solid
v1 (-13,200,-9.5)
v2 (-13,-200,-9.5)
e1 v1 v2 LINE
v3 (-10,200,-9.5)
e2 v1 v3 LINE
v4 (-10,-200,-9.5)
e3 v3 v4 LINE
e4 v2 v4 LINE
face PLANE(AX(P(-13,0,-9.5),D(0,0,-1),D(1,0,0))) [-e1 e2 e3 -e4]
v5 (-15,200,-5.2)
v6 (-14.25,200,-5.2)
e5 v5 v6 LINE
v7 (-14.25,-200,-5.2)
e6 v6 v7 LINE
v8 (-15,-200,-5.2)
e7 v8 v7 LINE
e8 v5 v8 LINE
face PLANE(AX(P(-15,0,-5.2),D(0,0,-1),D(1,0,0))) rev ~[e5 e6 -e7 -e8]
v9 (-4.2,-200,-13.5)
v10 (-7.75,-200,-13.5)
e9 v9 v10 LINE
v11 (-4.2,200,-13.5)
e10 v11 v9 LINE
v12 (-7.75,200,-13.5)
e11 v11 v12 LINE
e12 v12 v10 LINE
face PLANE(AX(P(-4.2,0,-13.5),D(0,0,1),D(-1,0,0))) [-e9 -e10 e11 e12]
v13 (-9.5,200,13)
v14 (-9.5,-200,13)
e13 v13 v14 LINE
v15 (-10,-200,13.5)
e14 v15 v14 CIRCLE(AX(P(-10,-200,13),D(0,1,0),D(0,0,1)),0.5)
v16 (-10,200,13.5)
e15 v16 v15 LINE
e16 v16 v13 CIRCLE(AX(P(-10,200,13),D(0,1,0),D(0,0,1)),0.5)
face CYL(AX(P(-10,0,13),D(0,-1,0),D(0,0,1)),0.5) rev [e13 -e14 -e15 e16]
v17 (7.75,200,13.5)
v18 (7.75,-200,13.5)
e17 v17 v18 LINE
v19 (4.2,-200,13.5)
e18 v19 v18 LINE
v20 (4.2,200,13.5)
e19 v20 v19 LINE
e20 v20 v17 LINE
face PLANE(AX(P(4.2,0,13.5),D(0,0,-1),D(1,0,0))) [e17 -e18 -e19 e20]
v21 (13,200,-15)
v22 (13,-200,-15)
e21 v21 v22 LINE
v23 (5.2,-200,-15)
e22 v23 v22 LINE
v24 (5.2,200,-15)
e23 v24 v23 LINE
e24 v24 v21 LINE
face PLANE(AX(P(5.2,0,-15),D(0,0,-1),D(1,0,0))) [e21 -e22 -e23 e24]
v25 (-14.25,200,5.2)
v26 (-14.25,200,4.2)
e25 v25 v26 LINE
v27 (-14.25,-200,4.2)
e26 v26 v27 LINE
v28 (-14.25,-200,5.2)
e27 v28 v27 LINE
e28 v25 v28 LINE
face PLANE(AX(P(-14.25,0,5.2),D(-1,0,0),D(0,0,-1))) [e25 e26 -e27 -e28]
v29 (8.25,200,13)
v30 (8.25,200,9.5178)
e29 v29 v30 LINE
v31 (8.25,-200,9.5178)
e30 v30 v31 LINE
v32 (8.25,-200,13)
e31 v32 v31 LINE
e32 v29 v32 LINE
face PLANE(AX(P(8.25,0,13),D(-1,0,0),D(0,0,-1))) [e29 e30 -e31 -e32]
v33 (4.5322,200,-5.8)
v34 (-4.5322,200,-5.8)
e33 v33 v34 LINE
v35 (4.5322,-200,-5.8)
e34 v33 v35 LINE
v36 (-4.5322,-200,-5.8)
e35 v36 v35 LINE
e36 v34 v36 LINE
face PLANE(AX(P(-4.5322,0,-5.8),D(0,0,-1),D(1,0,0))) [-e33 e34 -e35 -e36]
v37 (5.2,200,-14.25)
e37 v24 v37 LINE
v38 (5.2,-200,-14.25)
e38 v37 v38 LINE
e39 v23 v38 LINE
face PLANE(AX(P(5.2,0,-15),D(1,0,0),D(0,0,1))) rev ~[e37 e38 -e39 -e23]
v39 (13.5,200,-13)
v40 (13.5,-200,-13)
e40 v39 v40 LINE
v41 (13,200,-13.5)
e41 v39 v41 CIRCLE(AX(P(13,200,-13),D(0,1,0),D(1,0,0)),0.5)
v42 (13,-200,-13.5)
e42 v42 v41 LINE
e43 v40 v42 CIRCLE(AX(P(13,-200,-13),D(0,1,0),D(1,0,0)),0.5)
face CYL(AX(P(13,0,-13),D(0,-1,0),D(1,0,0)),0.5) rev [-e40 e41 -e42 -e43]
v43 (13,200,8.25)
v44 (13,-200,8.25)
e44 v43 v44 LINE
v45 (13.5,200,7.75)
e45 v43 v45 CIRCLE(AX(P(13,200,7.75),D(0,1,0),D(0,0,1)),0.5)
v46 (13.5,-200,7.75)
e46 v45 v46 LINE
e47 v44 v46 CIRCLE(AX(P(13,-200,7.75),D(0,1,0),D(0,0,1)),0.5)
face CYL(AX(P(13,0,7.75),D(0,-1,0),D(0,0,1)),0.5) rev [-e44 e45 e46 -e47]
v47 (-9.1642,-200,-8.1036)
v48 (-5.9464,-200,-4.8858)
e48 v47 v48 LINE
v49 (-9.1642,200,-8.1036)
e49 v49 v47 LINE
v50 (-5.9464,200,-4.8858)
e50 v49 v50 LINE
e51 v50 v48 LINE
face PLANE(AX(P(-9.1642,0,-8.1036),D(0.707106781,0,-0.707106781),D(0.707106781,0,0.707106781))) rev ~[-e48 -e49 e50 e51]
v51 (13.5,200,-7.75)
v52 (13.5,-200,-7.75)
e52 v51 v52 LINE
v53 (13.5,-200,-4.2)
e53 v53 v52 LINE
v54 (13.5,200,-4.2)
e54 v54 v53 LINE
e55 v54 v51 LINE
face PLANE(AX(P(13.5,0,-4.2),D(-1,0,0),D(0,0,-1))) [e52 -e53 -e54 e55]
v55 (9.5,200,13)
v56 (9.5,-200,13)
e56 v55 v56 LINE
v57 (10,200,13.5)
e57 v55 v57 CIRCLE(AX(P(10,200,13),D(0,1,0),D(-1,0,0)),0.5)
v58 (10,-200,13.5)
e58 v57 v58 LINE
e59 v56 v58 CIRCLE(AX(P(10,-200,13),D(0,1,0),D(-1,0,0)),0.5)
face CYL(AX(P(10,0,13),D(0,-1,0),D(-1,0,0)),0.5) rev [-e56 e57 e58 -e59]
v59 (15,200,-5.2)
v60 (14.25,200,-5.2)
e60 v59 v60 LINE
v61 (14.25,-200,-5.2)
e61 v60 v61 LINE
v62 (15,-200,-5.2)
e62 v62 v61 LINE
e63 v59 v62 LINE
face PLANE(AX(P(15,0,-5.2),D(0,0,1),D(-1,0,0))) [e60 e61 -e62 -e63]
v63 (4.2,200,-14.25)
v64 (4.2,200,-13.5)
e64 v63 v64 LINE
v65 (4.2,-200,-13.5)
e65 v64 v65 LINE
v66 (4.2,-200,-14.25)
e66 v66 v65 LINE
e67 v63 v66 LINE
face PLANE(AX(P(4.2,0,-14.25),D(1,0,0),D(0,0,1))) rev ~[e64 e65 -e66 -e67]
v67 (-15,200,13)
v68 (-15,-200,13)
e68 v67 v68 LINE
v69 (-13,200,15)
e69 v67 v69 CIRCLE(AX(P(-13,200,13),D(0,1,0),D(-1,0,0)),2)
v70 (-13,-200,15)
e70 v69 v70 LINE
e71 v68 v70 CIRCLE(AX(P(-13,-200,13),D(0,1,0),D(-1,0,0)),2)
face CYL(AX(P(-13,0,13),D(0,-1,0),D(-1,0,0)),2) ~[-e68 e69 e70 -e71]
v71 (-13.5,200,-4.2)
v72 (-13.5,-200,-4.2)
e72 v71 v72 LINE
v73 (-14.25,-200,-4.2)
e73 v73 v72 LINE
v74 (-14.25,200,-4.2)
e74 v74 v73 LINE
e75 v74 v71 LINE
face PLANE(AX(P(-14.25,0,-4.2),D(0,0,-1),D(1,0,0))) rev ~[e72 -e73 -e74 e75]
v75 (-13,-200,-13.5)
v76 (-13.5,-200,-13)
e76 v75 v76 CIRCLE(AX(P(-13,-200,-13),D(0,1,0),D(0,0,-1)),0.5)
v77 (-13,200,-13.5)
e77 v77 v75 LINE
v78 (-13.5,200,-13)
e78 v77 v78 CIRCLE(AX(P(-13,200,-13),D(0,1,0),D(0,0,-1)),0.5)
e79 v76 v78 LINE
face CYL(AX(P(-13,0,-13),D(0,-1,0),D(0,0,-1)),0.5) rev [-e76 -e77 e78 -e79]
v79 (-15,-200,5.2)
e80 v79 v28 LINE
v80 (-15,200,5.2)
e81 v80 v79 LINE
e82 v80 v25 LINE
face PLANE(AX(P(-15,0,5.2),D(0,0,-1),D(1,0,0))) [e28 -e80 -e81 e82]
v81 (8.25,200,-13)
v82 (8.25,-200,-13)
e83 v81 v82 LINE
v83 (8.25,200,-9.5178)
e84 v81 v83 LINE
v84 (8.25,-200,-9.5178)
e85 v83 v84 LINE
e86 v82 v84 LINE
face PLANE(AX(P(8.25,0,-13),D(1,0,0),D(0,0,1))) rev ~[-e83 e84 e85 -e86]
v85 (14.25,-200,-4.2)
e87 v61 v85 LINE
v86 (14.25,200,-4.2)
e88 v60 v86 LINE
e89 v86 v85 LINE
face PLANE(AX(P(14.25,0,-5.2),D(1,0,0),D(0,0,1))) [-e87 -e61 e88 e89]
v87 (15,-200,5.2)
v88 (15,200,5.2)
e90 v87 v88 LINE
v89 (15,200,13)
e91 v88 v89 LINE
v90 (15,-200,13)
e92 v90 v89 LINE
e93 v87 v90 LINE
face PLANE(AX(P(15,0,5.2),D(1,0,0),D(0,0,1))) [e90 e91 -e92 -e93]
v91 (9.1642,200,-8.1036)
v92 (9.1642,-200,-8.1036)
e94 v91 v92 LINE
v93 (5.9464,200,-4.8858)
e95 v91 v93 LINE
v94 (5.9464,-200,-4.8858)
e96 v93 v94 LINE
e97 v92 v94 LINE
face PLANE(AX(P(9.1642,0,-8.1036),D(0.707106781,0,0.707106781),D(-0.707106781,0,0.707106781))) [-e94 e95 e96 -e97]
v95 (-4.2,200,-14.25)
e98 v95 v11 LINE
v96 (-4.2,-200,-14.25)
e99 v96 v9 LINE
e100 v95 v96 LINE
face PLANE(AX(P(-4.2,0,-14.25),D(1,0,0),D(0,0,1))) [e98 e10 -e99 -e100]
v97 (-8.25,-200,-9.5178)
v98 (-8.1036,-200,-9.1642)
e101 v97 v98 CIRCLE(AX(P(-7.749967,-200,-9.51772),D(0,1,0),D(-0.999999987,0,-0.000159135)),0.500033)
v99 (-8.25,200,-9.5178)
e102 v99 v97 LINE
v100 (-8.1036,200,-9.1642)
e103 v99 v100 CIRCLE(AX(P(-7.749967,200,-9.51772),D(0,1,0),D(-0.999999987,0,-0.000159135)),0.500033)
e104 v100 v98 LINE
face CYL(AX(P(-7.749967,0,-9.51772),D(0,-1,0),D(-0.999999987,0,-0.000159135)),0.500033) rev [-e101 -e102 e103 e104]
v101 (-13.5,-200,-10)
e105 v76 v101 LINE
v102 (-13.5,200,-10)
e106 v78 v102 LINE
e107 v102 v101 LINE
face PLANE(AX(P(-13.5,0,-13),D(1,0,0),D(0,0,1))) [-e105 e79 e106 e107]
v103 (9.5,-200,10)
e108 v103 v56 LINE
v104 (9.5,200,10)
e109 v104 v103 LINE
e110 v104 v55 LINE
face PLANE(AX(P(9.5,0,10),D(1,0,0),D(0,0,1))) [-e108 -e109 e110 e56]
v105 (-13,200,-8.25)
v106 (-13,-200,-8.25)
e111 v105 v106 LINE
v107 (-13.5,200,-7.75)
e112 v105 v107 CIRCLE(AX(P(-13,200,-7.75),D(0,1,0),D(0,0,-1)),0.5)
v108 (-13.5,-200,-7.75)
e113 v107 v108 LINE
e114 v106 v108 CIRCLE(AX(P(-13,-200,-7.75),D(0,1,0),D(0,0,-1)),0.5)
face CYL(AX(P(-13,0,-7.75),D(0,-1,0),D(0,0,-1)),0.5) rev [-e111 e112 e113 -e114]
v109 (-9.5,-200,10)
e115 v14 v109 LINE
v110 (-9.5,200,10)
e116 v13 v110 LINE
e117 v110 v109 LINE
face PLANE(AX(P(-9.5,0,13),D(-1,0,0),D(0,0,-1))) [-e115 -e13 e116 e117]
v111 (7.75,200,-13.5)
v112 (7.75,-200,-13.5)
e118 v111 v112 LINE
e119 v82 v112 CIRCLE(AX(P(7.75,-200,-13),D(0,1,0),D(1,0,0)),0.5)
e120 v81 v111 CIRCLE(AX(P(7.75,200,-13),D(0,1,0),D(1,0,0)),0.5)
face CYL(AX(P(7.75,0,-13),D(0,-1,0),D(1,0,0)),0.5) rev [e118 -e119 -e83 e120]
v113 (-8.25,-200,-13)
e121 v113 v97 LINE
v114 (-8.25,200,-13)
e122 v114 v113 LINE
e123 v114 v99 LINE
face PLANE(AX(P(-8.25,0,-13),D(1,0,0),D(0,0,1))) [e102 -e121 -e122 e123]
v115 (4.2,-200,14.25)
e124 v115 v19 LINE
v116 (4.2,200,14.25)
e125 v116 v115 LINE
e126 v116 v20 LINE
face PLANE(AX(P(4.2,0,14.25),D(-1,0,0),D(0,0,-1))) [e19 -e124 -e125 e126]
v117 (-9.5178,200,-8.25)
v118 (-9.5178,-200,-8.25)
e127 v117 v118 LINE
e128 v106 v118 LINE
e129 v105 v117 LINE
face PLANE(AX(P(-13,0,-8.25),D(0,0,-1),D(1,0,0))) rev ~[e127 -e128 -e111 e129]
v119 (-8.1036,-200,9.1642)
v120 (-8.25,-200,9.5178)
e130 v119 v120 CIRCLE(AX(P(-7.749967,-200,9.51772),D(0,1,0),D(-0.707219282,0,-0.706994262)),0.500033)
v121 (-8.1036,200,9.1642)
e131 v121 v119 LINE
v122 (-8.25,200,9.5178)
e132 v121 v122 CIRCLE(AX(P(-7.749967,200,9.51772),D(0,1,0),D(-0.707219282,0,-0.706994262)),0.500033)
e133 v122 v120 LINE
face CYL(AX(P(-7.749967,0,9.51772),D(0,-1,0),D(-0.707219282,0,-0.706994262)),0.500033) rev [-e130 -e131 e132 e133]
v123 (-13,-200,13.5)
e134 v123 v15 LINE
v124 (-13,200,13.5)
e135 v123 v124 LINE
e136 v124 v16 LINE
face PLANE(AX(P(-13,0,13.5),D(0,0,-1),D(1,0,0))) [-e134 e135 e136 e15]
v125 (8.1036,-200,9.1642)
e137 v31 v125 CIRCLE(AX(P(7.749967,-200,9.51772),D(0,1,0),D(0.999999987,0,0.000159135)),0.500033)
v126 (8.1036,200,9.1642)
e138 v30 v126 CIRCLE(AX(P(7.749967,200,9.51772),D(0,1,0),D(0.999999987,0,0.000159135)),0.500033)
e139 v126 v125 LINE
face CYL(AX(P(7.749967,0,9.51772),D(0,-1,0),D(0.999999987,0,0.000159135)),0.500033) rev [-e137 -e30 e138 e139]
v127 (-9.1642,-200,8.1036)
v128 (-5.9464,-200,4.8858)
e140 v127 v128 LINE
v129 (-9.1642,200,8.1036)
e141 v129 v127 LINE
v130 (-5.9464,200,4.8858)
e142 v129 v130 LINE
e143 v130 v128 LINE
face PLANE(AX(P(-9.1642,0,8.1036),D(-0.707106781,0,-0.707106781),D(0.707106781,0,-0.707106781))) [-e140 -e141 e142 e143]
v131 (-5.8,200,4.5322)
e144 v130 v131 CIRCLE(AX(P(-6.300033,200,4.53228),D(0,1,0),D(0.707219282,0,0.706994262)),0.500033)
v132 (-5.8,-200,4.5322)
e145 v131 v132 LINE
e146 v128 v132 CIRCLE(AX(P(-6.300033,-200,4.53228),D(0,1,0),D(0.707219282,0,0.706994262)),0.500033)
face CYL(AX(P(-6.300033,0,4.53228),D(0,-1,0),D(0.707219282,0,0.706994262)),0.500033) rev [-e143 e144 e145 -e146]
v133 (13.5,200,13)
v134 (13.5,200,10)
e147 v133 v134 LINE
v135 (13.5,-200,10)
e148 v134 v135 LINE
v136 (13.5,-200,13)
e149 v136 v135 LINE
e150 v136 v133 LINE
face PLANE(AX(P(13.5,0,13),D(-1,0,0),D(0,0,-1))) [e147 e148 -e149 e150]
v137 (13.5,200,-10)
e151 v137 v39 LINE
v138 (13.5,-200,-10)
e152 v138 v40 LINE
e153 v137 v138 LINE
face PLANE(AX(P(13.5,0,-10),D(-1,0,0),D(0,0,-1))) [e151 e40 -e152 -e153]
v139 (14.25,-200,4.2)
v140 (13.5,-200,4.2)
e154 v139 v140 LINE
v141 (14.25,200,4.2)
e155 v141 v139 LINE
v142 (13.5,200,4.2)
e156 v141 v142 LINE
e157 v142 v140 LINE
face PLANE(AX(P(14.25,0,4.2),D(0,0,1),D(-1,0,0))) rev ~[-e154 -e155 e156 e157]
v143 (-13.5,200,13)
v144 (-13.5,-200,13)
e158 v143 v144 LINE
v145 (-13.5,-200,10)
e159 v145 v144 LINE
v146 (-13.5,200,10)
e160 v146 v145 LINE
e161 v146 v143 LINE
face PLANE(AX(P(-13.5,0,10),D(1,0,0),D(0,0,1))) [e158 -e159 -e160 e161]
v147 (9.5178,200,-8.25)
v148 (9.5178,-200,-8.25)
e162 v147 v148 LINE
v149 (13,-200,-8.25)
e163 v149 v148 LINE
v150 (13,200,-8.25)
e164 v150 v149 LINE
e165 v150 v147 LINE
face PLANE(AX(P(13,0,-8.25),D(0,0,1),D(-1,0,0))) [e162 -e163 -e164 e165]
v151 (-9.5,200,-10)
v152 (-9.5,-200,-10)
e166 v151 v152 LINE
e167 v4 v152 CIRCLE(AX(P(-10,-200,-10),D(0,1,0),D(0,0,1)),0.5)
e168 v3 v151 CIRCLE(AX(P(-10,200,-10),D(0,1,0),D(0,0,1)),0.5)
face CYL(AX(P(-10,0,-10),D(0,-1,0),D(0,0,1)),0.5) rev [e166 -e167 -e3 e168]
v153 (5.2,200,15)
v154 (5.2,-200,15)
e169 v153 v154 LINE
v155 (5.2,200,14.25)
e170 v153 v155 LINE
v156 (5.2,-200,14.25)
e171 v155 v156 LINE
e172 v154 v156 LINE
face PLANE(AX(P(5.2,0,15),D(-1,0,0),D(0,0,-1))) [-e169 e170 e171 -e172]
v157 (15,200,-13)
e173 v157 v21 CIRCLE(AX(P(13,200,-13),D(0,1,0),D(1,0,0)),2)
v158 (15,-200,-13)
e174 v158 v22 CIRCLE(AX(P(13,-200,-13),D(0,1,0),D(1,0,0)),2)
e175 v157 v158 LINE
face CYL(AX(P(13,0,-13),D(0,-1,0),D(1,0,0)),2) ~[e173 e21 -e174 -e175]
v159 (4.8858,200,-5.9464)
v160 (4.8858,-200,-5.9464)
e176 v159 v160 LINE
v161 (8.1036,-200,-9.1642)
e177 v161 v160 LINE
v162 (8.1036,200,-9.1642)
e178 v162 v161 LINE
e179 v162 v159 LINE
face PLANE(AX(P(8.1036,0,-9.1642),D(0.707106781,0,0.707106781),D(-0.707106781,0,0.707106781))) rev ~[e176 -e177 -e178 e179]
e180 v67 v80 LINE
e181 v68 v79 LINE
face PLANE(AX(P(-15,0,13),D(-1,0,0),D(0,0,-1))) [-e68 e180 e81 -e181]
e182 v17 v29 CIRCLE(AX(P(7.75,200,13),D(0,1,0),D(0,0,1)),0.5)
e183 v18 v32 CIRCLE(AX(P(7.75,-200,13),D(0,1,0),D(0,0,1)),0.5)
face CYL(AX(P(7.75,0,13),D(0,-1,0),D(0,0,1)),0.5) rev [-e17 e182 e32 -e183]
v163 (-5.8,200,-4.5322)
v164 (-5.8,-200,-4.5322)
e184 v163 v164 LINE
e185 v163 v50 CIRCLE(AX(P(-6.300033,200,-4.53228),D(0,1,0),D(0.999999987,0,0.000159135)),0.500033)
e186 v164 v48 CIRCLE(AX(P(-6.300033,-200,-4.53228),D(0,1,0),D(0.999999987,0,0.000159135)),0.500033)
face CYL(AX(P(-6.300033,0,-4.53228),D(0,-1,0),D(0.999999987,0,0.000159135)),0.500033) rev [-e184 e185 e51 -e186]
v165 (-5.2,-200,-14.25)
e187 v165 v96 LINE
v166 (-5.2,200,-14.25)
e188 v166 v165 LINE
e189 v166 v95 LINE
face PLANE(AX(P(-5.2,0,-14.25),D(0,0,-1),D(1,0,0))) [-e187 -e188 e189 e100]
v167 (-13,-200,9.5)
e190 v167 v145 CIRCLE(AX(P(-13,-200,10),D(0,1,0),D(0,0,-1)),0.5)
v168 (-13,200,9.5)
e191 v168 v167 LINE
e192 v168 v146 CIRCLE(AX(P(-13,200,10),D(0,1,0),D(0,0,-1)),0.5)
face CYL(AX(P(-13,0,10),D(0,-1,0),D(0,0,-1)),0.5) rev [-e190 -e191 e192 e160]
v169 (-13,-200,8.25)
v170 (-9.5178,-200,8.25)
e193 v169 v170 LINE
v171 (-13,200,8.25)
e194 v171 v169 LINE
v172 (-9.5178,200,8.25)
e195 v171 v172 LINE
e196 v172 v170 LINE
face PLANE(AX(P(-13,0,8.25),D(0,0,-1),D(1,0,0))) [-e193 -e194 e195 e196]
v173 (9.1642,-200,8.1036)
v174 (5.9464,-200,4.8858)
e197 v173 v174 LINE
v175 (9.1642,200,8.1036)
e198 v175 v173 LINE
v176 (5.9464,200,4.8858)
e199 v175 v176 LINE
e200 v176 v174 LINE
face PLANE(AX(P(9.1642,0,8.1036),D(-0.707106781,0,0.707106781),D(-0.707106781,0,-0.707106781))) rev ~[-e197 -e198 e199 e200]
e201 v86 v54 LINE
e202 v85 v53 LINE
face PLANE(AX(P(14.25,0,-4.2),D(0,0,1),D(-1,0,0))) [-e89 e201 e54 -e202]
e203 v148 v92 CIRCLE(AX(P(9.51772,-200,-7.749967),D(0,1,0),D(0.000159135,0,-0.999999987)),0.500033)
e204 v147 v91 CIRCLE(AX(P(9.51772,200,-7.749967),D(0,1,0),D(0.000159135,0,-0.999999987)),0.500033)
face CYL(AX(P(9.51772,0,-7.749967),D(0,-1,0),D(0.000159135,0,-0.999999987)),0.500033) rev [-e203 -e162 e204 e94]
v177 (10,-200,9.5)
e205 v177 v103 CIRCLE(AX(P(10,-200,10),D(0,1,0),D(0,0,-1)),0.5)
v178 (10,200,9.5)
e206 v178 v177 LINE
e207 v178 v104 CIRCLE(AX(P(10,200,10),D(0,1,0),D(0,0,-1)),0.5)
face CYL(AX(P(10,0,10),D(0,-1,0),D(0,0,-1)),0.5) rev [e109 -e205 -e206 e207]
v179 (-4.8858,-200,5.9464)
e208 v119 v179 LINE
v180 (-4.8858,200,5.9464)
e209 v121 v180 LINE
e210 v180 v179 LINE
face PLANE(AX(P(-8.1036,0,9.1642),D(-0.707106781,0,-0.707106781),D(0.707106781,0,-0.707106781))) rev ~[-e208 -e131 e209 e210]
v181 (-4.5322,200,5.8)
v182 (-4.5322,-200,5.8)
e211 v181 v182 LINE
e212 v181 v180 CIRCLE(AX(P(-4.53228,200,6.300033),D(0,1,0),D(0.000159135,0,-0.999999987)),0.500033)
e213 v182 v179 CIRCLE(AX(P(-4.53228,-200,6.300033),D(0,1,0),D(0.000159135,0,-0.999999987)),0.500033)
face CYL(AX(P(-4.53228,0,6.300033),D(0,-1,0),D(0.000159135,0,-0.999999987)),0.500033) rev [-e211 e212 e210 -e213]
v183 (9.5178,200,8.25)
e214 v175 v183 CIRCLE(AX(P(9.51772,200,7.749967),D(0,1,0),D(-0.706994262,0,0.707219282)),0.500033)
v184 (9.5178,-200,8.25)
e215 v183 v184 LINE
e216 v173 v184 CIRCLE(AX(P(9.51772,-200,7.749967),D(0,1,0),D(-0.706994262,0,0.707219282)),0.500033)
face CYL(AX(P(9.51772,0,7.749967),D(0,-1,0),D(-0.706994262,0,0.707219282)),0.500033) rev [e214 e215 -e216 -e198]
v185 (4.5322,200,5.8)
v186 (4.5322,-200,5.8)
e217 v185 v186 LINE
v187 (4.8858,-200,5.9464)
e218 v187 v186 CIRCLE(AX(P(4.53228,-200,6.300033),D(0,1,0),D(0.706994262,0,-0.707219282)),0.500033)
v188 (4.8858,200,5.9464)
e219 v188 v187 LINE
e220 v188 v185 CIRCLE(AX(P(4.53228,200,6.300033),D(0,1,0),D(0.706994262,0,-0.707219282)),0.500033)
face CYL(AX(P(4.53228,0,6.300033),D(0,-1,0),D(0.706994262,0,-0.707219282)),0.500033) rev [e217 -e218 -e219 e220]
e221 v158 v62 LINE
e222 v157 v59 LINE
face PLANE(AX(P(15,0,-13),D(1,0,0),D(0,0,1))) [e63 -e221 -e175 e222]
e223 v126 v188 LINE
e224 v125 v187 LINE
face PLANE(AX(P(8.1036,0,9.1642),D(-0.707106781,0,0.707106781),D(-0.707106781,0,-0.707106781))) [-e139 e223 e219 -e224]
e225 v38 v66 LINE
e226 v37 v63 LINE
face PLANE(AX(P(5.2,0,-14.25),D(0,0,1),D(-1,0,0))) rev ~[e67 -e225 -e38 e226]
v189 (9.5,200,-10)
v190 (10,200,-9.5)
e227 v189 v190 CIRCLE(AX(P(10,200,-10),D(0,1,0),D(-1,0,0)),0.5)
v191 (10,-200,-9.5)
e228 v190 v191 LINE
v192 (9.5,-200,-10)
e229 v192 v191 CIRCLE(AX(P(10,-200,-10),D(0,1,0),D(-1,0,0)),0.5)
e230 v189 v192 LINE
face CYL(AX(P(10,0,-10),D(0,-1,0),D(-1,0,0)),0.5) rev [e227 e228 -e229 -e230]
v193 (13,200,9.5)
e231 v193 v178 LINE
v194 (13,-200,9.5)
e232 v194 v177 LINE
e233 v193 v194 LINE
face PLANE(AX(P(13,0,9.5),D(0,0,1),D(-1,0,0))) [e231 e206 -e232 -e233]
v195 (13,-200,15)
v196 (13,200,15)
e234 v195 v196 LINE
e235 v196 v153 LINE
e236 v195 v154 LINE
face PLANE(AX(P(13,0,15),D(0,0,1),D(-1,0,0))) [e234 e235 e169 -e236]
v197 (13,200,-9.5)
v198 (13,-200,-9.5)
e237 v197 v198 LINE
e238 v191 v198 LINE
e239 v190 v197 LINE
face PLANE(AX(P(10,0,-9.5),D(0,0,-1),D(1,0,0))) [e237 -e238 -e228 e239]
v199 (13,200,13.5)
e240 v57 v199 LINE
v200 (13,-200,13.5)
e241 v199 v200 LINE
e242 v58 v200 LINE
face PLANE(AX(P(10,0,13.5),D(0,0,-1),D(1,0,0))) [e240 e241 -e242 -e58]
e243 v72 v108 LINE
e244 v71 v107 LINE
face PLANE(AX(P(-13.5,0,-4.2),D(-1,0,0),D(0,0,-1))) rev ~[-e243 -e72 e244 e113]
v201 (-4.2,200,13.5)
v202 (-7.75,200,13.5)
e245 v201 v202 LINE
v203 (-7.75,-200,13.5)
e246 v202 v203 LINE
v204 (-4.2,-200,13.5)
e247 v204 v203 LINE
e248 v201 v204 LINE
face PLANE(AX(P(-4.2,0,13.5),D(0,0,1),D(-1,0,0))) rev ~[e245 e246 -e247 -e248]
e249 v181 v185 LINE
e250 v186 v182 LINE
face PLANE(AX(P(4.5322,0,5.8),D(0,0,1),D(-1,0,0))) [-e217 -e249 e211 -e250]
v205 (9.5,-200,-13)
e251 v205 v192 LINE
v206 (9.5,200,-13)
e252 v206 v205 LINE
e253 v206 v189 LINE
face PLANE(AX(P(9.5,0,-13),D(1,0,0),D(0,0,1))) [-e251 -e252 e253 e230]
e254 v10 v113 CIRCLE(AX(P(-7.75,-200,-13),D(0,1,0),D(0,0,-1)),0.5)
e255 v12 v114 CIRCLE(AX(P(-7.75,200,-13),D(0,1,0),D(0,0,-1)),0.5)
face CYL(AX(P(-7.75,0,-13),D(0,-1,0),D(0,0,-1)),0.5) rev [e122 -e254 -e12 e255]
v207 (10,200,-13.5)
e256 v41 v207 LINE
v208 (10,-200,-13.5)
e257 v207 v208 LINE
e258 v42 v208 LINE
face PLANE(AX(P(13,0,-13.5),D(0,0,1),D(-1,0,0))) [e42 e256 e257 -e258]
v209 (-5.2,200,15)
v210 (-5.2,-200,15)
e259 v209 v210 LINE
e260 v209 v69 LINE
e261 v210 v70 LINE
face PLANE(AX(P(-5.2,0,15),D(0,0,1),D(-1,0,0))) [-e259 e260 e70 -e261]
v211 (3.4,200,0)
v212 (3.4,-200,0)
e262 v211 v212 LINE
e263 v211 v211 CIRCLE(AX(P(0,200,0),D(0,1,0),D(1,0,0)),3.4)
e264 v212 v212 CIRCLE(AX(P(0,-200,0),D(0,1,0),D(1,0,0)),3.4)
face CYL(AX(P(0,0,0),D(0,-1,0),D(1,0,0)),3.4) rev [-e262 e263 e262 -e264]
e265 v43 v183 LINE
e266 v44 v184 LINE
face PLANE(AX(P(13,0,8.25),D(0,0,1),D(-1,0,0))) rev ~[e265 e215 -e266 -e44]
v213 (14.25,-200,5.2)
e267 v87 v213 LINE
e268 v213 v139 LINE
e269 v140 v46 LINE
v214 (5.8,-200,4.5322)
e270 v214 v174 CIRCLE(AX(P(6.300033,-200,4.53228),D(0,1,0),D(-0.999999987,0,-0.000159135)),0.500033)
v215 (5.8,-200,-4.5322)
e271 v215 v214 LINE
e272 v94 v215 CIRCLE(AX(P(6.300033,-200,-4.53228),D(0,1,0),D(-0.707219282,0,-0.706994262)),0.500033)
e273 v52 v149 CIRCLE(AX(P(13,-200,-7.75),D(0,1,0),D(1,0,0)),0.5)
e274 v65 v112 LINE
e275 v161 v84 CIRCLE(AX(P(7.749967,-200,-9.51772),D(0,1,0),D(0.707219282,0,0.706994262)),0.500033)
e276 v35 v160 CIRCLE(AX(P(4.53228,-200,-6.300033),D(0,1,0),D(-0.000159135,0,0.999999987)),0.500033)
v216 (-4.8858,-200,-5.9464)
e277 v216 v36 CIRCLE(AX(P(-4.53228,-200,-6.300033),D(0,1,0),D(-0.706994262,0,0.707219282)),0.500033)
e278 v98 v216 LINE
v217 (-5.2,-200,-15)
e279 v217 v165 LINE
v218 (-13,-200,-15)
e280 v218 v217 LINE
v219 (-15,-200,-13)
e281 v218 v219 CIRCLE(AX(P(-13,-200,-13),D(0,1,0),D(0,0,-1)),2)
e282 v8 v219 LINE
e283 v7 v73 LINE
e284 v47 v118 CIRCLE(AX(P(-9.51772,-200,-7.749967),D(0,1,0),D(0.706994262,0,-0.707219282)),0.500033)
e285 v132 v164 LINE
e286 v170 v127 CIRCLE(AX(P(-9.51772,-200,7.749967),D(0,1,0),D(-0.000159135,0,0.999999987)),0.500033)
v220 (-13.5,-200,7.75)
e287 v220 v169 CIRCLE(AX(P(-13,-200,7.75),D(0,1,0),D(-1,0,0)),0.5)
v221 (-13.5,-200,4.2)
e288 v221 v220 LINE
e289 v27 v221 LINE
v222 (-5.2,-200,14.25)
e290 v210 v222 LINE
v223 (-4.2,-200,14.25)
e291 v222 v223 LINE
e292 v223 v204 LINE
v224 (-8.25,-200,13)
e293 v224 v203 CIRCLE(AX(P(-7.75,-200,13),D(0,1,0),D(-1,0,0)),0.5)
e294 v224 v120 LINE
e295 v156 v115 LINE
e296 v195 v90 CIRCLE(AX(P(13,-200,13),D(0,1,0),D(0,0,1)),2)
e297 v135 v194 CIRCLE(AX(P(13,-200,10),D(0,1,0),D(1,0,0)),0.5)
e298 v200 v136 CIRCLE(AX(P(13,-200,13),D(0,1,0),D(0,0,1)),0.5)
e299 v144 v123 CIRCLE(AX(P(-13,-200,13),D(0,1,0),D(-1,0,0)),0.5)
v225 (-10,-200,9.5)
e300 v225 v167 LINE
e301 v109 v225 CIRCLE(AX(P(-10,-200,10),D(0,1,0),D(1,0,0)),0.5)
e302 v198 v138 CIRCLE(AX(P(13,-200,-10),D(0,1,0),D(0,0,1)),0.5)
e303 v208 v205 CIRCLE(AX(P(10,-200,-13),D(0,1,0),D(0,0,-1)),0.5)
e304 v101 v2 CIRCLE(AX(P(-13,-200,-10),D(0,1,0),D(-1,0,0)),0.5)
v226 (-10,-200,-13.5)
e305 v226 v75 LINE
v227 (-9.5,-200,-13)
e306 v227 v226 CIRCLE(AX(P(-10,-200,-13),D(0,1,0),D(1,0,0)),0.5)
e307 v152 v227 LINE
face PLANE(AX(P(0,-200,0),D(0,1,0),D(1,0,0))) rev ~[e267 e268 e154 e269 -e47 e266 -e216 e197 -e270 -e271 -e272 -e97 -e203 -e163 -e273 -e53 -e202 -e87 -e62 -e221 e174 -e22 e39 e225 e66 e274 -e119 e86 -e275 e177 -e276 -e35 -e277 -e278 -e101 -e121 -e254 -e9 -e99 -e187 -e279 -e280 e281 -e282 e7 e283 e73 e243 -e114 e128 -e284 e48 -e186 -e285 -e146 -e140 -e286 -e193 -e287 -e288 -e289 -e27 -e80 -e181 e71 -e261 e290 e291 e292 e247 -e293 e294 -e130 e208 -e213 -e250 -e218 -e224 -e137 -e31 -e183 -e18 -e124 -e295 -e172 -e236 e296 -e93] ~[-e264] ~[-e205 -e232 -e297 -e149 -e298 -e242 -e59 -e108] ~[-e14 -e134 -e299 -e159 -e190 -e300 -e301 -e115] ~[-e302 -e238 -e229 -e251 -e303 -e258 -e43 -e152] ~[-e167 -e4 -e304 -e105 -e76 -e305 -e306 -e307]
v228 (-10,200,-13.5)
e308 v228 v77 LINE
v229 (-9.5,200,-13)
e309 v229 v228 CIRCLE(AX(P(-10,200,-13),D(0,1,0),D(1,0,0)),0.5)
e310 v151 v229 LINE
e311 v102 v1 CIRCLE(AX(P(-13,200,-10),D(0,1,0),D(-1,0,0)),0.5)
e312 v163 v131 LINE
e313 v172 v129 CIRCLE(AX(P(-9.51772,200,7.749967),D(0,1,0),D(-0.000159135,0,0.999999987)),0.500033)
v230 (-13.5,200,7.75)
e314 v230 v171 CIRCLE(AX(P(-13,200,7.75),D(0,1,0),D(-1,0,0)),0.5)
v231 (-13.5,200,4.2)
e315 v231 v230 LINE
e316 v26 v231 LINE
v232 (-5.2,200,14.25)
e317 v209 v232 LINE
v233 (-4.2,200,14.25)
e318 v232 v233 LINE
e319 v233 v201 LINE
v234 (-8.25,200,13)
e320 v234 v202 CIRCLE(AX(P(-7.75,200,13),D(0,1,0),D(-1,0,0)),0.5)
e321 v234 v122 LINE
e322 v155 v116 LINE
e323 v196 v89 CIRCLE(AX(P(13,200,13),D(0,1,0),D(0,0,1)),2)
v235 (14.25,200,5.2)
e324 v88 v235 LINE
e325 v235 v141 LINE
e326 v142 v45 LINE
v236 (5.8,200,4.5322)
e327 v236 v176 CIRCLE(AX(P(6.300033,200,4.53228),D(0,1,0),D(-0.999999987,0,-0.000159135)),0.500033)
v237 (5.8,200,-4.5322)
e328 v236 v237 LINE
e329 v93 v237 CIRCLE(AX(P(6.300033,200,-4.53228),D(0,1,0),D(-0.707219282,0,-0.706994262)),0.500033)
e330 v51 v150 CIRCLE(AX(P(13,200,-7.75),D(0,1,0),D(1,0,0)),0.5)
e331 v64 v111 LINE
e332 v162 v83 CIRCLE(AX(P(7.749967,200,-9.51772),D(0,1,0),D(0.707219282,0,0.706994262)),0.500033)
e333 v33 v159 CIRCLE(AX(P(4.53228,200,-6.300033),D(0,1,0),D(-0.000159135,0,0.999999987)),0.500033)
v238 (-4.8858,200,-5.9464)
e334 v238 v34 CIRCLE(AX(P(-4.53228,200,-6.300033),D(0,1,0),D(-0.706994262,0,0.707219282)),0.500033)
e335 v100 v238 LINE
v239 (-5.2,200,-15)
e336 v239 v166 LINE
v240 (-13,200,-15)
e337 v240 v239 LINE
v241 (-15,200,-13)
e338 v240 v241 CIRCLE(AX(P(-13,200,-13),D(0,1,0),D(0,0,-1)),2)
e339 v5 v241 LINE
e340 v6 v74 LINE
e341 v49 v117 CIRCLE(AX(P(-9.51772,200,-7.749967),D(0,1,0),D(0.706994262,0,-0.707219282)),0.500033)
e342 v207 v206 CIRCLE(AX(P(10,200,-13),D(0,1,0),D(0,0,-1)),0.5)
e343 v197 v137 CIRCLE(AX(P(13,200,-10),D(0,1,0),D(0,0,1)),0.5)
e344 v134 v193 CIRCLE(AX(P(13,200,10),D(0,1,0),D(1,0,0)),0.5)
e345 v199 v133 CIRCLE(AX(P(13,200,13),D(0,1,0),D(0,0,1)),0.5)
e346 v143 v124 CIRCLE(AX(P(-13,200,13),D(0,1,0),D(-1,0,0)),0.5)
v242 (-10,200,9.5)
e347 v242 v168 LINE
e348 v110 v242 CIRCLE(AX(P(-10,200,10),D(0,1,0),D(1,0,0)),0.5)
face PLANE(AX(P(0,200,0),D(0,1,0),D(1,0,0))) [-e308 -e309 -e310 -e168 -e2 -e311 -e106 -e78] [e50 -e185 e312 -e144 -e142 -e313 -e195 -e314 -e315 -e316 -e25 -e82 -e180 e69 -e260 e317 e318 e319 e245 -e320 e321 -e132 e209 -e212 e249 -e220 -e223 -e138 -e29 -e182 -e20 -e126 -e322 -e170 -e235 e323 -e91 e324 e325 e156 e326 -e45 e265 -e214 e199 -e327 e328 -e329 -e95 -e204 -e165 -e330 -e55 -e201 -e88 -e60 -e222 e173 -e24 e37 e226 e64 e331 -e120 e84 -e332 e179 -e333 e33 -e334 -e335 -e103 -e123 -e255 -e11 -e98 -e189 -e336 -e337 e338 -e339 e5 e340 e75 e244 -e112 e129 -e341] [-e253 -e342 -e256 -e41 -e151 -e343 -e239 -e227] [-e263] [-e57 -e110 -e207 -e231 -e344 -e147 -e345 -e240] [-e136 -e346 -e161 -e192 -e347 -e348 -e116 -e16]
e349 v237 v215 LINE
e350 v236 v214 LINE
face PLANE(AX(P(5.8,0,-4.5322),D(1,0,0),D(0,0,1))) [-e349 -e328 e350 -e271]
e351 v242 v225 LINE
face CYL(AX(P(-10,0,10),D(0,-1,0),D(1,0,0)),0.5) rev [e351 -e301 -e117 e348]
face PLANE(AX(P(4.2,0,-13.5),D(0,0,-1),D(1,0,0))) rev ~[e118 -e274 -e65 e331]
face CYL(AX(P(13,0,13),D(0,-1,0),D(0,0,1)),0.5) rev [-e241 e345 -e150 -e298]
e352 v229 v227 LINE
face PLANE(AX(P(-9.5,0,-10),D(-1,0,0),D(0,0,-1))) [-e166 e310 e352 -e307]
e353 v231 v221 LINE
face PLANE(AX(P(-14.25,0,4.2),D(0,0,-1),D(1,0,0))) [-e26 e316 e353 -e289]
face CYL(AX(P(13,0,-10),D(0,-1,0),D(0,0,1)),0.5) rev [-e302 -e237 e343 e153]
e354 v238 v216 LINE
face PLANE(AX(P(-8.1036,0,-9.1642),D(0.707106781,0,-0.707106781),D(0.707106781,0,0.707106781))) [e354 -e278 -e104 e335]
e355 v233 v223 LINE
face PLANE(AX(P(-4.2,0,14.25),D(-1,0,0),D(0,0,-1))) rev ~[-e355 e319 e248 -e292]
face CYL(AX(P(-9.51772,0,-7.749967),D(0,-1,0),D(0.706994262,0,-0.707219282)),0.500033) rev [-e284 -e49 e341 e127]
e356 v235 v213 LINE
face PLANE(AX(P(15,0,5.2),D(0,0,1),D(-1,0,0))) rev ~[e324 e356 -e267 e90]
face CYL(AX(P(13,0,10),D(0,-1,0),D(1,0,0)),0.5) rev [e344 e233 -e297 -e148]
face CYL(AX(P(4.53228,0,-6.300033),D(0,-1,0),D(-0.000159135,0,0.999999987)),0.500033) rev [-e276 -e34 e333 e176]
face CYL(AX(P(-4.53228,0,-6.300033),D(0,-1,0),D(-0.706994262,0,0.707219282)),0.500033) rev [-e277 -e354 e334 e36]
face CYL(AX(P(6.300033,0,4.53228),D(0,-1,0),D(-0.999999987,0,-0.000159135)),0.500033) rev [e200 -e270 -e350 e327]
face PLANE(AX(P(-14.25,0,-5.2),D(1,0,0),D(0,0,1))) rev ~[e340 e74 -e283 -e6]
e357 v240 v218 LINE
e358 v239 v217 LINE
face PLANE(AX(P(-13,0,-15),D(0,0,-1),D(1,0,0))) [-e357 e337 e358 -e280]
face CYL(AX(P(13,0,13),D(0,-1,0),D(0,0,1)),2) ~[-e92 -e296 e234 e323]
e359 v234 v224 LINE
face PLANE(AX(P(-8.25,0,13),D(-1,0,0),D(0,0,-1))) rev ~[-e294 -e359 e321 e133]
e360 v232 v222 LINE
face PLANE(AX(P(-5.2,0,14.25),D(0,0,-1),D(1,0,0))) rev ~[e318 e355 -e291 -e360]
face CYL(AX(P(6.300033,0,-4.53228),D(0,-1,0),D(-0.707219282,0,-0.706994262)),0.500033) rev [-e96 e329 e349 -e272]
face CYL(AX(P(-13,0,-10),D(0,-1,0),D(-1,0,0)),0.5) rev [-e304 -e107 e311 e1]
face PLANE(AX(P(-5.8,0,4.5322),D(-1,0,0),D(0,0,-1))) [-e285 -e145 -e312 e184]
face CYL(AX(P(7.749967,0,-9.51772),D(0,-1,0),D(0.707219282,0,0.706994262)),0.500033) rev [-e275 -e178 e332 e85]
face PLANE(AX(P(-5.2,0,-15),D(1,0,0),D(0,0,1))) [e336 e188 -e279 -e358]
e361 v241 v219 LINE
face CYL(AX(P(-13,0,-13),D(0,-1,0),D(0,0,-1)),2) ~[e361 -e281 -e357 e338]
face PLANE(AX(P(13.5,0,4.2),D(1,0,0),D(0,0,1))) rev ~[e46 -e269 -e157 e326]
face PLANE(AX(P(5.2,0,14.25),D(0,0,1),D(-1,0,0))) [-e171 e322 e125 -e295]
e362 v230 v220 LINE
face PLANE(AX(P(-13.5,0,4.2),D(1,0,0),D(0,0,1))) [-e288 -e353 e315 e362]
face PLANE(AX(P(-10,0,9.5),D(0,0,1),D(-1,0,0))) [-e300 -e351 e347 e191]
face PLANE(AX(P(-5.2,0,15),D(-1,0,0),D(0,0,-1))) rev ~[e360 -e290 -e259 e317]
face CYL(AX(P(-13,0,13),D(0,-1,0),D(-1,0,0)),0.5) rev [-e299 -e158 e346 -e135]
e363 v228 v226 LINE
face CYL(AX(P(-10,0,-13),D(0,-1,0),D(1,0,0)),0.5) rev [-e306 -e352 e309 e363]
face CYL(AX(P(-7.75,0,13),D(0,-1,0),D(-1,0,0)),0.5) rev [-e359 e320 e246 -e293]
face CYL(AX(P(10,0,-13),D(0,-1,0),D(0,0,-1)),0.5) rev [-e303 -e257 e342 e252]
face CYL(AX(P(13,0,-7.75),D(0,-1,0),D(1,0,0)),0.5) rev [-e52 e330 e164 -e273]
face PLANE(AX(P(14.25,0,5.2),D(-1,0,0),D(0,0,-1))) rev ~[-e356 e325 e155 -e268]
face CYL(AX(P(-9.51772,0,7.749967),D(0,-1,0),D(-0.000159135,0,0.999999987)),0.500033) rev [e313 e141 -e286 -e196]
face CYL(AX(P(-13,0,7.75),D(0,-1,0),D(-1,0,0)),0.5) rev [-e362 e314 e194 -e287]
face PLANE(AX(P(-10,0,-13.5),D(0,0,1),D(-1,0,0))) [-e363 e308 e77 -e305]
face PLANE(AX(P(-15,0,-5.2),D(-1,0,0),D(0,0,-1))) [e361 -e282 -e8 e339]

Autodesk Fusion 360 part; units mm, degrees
sketch "スケッチ1" plane through (0, 0, 0) normal (0, 1, 0) x (1, 0, 0)
  line L0 (13, -15) -> (-13, -15)
  line L1 (-15, -13) -> (-15, 13)
  line L2 (-13, 15) -> (13, 15)
  line L3 (15, 13) -> (15, -13)
  line L4 (15, -15) -> (-15, 15) construction
  line L5 (-15, -15) -> (15, 15) construction
  circle A0 centre (0, 0) radius 3.4
  line L6 (-5.2, -15) -> (-5.2, -14.25)
  line L7 (-5.2, -14.25) -> (-4.2, -14.25)
  line L8 (-4.2, -14.25) -> (-4.2, -13.5)
  line L9 (-4.2, -13.5) -> (-7.75, -13.5)
  line L10 (-8.25, -13) -> (-8.25, -9.5178)
  line L11 (-8.1036, -9.1642) -> (-4.8858, -5.9464)
  line L12 (-4.5322, -5.8) -> (0, -5.8)
  arc A1 (-8.25, -13) -> (-7.75, -13.5) centre (-7.75, -13) ccw
  arc A2 (-8.1036, -9.1642) -> (-8.25, -9.5178) centre (-7.75, -9.5178) ccw
  arc A3 (-4.5322, -5.8) -> (-4.8858, -5.9464) centre (-4.5322, -6.3) ccw
  line L13 (-13, -13.5) -> (-10, -13.5)
  line L14 (-9.5, -13) -> (-9.5, -10)
  line L15 (-10, -9.5) -> (-13, -9.5)
  line L16 (-13.5, -10) -> (-13.5, -13)
  arc A4 (-13.5, -13) -> (-13, -13.5) centre (-13, -13) ccw
  arc A5 (-10, -13.5) -> (-9.5, -13) centre (-10, -13) ccw
  arc A6 (-9.5, -10) -> (-10, -9.5) centre (-10, -10) ccw
  arc A7 (-13, -9.5) -> (-13.5, -10) centre (-13, -10) ccw
  arc A8 (-15, -13) -> (-13, -15) centre (-13, -13) ccw
  arc A9 (-13, 15) -> (-15, 13) centre (-13, 13) ccw
  arc A10 (15, 13) -> (13, 15) centre (13, 13) ccw
  arc A11 (13, -15) -> (15, -13) centre (13, -13) ccw
  line L17 (0, 0) -> (0, -15) construction
  line L18 (5.2, -15) -> (5.2, -14.25)
  line L19 (5.2, -14.25) -> (4.2, -14.25)
  line L20 (4.2, -14.25) -> (4.2, -13.5)
  line L21 (4.2, -13.5) -> (7.75, -13.5)
  arc A12 (7.75, -13.5) -> (8.25, -13) centre (7.75, -13) ccw
  line L22 (8.25, -13) -> (8.25, -9.5178)
  arc A13 (8.25, -9.5178) -> (8.1036, -9.1642) centre (7.75, -9.5178) ccw
  line L23 (8.1036, -9.1642) -> (4.8858, -5.9464)
  arc A14 (4.8858, -5.9464) -> (4.5322, -5.8) centre (4.5322, -6.3) ccw
  line L24 (4.5322, -5.8) -> (0, -5.8)
  line L25 (15, -5.2) -> (14.25, -5.2)
  line L26 (14.25, -5.2) -> (14.25, -4.2)
  line L27 (14.25, -4.2) -> (13.5, -4.2)
  line L28 (13.5, -4.2) -> (13.5, -7.75)
  arc A15 (13, -8.25) -> (13.5, -7.75) centre (13, -7.75) ccw
  line L29 (13, -8.25) -> (9.5178, -8.25)
  arc A16 (9.1642, -8.1036) -> (9.5178, -8.25) centre (9.5178, -7.75) ccw
  line L30 (9.1642, -8.1036) -> (5.9464, -4.8858)
  arc A17 (5.8, -4.5322) -> (5.9464, -4.8858) centre (6.3, -4.5322) ccw
  line L31 (5.8, -4.5322) -> (5.8, 0)
  line L32 (5.8, 4.5322) -> (5.8, 0)
  arc A18 (5.9464, 4.8858) -> (5.8, 4.5322) centre (6.3, 4.5322) ccw
  line L33 (9.1642, 8.1036) -> (5.9464, 4.8858)
  arc A19 (9.5178, 8.25) -> (9.1642, 8.1036) centre (9.5178, 7.75) ccw
  line L34 (13, 8.25) -> (9.5178, 8.25)
  arc A20 (13.5, 7.75) -> (13, 8.25) centre (13, 7.75) ccw
  line L35 (13.5, 4.2) -> (13.5, 7.75)
  line L36 (14.25, 4.2) -> (13.5, 4.2)
  line L37 (14.25, 5.2) -> (14.25, 4.2)
  line L38 (15, 5.2) -> (14.25, 5.2)
  line L39 (13.5, -13) -> (13.5, -10)
  arc A21 (13.5, -10) -> (13, -9.5) centre (13, -10) ccw
  line L40 (13, -9.5) -> (10, -9.5)
  arc A22 (10, -9.5) -> (9.5, -10) centre (10, -10) ccw
  line L41 (9.5, -10) -> (9.5, -13)
  arc A23 (9.5, -13) -> (10, -13.5) centre (10, -13) ccw
  line L42 (10, -13.5) -> (13, -13.5)
  arc A24 (13, -13.5) -> (13.5, -13) centre (13, -13) ccw
  line L43 (5.2, 15) -> (5.2, 14.25)
  line L44 (5.2, 14.25) -> (4.2, 14.25)
  line L45 (4.2, 14.25) -> (4.2, 13.5)
  line L46 (4.2, 13.5) -> (7.75, 13.5)
  arc A25 (8.25, 13) -> (7.75, 13.5) centre (7.75, 13) ccw
  line L47 (8.25, 13) -> (8.25, 9.5178)
  arc A26 (8.1036, 9.1642) -> (8.25, 9.5178) centre (7.75, 9.5178) ccw
  line L48 (8.1036, 9.1642) -> (4.8858, 5.9464)
  arc A27 (4.5322, 5.8) -> (4.8858, 5.9464) centre (4.5322, 6.3) ccw
  line L49 (4.5322, 5.8) -> (0, 5.8)
  line L50 (-4.5322, 5.8) -> (0, 5.8)
  arc A28 (-4.8858, 5.9464) -> (-4.5322, 5.8) centre (-4.5322, 6.3) ccw
  line L51 (-8.1036, 9.1642) -> (-4.8858, 5.9464)
  arc A29 (-8.25, 9.5178) -> (-8.1036, 9.1642) centre (-7.75, 9.5178) ccw
  line L52 (-8.25, 13) -> (-8.25, 9.5178)
  arc A30 (-7.75, 13.5) -> (-8.25, 13) centre (-7.75, 13) ccw
  line L53 (-4.2, 13.5) -> (-7.75, 13.5)
  line L54 (-4.2, 14.25) -> (-4.2, 13.5)
  line L55 (-5.2, 14.25) -> (-4.2, 14.25)
  line L56 (-5.2, 15) -> (-5.2, 14.25)
  line L57 (13, 13.5) -> (10, 13.5)
  arc A31 (10, 13.5) -> (9.5, 13) centre (10, 13) ccw
  line L58 (9.5, 13) -> (9.5, 10)
  arc A32 (9.5, 10) -> (10, 9.5) centre (10, 10) ccw
  line L59 (10, 9.5) -> (13, 9.5)
  arc A33 (13, 9.5) -> (13.5, 10) centre (13, 10) ccw
  line L60 (13.5, 10) -> (13.5, 13)
  arc A34 (13.5, 13) -> (13, 13.5) centre (13, 13) ccw
  line L61 (-15, 5.2) -> (-14.25, 5.2)
  line L62 (-14.25, 5.2) -> (-14.25, 4.2)
  line L63 (-14.25, 4.2) -> (-13.5, 4.2)
  line L64 (-13.5, 4.2) -> (-13.5, 7.75)
  arc A35 (-13, 8.25) -> (-13.5, 7.75) centre (-13, 7.75) ccw
  line L65 (-13, 8.25) -> (-9.5178, 8.25)
  arc A36 (-9.1642, 8.1036) -> (-9.5178, 8.25) centre (-9.5178, 7.75) ccw
  line L66 (-9.1642, 8.1036) -> (-5.9464, 4.8858)
  arc A37 (-5.8, 4.5322) -> (-5.9464, 4.8858) centre (-6.3, 4.5322) ccw
  line L67 (-5.8, 4.5322) -> (-5.8, 0)
  line L68 (-5.8, -4.5322) -> (-5.8, 0)
  arc A38 (-5.9464, -4.8858) -> (-5.8, -4.5322) centre (-6.3, -4.5322) ccw
  line L69 (-9.1642, -8.1036) -> (-5.9464, -4.8858)
  arc A39 (-9.5178, -8.25) -> (-9.1642, -8.1036) centre (-9.5178, -7.75) ccw
  line L70 (-13, -8.25) -> (-9.5178, -8.25)
  arc A40 (-13.5, -7.75) -> (-13, -8.25) centre (-13, -7.75) ccw
  line L71 (-13.5, -4.2) -> (-13.5, -7.75)
  line L72 (-14.25, -4.2) -> (-13.5, -4.2)
  line L73 (-14.25, -5.2) -> (-14.25, -4.2)
  line L74 (-15, -5.2) -> (-14.25, -5.2)
  line L75 (-13.5, 13) -> (-13.5, 10)
  arc A41 (-13.5, 10) -> (-13, 9.5) centre (-13, 10) ccw
  line L76 (-13, 9.5) -> (-10, 9.5)
  arc A42 (-10, 9.5) -> (-9.5, 10) centre (-10, 10) ccw
  line L77 (-9.5, 10) -> (-9.5, 13)
  arc A43 (-9.5, 13) -> (-10, 13.5) centre (-10, 13) ccw
  line L78 (-10, 13.5) -> (-13, 13.5)
  arc A44 (-13, 13.5) -> (-13.5, 13) centre (-13, 13) ccw
  dimension "d1" = 30
  dimension "d2" = 30
  dimension "d3" = 6.8
  dimension "d4" = 1
  dimension "d5" = 0.75
  dimension "d6" = 0.75
  dimension "d7" = 4.2
  dimension "d8" = 8.25
  dimension "d9" = 0.75
  dimension "d10" = 9.2
  dimension "d13" = 0.5
  dimension "d14" = 0.5
  dimension "d15" = 0.5
  dimension "d16" = 4
  dimension "d17" = 1.5
  dimension "d18" = 0.5
  dimension "d19" = 0.5
  dimension "d20" = 4
  dimension "d21" = 2
  dimension "d23" = 360
extrude "押し出し1" add sketch "スケッチ1" along normal mid plane 400 contours L0 L1 L2 L3 L6 L7 L8 L9 L10 L11 L12 A1 A2 A3 A8 A9 A10 A11 L18 L19 L20 L21 A12 L22 A13 L23 A14 L24 L25 L26 L27 L28 A15 L29 A16 L30 A17 L31 L32 A18 L33 A19 L34 A20 L35 L36 L37 L38 L43 L44 L45 L46 A25 L47 A26 L48 A27 L49 L50 A28 L51 A29 L52 A30 L53 L54 L55 L56 L61 L62 L63 L64 A35 L65 A36 L66 A37 L67 L68 A38 L69 A39 L70 A40 L71 L72 L73 L74
